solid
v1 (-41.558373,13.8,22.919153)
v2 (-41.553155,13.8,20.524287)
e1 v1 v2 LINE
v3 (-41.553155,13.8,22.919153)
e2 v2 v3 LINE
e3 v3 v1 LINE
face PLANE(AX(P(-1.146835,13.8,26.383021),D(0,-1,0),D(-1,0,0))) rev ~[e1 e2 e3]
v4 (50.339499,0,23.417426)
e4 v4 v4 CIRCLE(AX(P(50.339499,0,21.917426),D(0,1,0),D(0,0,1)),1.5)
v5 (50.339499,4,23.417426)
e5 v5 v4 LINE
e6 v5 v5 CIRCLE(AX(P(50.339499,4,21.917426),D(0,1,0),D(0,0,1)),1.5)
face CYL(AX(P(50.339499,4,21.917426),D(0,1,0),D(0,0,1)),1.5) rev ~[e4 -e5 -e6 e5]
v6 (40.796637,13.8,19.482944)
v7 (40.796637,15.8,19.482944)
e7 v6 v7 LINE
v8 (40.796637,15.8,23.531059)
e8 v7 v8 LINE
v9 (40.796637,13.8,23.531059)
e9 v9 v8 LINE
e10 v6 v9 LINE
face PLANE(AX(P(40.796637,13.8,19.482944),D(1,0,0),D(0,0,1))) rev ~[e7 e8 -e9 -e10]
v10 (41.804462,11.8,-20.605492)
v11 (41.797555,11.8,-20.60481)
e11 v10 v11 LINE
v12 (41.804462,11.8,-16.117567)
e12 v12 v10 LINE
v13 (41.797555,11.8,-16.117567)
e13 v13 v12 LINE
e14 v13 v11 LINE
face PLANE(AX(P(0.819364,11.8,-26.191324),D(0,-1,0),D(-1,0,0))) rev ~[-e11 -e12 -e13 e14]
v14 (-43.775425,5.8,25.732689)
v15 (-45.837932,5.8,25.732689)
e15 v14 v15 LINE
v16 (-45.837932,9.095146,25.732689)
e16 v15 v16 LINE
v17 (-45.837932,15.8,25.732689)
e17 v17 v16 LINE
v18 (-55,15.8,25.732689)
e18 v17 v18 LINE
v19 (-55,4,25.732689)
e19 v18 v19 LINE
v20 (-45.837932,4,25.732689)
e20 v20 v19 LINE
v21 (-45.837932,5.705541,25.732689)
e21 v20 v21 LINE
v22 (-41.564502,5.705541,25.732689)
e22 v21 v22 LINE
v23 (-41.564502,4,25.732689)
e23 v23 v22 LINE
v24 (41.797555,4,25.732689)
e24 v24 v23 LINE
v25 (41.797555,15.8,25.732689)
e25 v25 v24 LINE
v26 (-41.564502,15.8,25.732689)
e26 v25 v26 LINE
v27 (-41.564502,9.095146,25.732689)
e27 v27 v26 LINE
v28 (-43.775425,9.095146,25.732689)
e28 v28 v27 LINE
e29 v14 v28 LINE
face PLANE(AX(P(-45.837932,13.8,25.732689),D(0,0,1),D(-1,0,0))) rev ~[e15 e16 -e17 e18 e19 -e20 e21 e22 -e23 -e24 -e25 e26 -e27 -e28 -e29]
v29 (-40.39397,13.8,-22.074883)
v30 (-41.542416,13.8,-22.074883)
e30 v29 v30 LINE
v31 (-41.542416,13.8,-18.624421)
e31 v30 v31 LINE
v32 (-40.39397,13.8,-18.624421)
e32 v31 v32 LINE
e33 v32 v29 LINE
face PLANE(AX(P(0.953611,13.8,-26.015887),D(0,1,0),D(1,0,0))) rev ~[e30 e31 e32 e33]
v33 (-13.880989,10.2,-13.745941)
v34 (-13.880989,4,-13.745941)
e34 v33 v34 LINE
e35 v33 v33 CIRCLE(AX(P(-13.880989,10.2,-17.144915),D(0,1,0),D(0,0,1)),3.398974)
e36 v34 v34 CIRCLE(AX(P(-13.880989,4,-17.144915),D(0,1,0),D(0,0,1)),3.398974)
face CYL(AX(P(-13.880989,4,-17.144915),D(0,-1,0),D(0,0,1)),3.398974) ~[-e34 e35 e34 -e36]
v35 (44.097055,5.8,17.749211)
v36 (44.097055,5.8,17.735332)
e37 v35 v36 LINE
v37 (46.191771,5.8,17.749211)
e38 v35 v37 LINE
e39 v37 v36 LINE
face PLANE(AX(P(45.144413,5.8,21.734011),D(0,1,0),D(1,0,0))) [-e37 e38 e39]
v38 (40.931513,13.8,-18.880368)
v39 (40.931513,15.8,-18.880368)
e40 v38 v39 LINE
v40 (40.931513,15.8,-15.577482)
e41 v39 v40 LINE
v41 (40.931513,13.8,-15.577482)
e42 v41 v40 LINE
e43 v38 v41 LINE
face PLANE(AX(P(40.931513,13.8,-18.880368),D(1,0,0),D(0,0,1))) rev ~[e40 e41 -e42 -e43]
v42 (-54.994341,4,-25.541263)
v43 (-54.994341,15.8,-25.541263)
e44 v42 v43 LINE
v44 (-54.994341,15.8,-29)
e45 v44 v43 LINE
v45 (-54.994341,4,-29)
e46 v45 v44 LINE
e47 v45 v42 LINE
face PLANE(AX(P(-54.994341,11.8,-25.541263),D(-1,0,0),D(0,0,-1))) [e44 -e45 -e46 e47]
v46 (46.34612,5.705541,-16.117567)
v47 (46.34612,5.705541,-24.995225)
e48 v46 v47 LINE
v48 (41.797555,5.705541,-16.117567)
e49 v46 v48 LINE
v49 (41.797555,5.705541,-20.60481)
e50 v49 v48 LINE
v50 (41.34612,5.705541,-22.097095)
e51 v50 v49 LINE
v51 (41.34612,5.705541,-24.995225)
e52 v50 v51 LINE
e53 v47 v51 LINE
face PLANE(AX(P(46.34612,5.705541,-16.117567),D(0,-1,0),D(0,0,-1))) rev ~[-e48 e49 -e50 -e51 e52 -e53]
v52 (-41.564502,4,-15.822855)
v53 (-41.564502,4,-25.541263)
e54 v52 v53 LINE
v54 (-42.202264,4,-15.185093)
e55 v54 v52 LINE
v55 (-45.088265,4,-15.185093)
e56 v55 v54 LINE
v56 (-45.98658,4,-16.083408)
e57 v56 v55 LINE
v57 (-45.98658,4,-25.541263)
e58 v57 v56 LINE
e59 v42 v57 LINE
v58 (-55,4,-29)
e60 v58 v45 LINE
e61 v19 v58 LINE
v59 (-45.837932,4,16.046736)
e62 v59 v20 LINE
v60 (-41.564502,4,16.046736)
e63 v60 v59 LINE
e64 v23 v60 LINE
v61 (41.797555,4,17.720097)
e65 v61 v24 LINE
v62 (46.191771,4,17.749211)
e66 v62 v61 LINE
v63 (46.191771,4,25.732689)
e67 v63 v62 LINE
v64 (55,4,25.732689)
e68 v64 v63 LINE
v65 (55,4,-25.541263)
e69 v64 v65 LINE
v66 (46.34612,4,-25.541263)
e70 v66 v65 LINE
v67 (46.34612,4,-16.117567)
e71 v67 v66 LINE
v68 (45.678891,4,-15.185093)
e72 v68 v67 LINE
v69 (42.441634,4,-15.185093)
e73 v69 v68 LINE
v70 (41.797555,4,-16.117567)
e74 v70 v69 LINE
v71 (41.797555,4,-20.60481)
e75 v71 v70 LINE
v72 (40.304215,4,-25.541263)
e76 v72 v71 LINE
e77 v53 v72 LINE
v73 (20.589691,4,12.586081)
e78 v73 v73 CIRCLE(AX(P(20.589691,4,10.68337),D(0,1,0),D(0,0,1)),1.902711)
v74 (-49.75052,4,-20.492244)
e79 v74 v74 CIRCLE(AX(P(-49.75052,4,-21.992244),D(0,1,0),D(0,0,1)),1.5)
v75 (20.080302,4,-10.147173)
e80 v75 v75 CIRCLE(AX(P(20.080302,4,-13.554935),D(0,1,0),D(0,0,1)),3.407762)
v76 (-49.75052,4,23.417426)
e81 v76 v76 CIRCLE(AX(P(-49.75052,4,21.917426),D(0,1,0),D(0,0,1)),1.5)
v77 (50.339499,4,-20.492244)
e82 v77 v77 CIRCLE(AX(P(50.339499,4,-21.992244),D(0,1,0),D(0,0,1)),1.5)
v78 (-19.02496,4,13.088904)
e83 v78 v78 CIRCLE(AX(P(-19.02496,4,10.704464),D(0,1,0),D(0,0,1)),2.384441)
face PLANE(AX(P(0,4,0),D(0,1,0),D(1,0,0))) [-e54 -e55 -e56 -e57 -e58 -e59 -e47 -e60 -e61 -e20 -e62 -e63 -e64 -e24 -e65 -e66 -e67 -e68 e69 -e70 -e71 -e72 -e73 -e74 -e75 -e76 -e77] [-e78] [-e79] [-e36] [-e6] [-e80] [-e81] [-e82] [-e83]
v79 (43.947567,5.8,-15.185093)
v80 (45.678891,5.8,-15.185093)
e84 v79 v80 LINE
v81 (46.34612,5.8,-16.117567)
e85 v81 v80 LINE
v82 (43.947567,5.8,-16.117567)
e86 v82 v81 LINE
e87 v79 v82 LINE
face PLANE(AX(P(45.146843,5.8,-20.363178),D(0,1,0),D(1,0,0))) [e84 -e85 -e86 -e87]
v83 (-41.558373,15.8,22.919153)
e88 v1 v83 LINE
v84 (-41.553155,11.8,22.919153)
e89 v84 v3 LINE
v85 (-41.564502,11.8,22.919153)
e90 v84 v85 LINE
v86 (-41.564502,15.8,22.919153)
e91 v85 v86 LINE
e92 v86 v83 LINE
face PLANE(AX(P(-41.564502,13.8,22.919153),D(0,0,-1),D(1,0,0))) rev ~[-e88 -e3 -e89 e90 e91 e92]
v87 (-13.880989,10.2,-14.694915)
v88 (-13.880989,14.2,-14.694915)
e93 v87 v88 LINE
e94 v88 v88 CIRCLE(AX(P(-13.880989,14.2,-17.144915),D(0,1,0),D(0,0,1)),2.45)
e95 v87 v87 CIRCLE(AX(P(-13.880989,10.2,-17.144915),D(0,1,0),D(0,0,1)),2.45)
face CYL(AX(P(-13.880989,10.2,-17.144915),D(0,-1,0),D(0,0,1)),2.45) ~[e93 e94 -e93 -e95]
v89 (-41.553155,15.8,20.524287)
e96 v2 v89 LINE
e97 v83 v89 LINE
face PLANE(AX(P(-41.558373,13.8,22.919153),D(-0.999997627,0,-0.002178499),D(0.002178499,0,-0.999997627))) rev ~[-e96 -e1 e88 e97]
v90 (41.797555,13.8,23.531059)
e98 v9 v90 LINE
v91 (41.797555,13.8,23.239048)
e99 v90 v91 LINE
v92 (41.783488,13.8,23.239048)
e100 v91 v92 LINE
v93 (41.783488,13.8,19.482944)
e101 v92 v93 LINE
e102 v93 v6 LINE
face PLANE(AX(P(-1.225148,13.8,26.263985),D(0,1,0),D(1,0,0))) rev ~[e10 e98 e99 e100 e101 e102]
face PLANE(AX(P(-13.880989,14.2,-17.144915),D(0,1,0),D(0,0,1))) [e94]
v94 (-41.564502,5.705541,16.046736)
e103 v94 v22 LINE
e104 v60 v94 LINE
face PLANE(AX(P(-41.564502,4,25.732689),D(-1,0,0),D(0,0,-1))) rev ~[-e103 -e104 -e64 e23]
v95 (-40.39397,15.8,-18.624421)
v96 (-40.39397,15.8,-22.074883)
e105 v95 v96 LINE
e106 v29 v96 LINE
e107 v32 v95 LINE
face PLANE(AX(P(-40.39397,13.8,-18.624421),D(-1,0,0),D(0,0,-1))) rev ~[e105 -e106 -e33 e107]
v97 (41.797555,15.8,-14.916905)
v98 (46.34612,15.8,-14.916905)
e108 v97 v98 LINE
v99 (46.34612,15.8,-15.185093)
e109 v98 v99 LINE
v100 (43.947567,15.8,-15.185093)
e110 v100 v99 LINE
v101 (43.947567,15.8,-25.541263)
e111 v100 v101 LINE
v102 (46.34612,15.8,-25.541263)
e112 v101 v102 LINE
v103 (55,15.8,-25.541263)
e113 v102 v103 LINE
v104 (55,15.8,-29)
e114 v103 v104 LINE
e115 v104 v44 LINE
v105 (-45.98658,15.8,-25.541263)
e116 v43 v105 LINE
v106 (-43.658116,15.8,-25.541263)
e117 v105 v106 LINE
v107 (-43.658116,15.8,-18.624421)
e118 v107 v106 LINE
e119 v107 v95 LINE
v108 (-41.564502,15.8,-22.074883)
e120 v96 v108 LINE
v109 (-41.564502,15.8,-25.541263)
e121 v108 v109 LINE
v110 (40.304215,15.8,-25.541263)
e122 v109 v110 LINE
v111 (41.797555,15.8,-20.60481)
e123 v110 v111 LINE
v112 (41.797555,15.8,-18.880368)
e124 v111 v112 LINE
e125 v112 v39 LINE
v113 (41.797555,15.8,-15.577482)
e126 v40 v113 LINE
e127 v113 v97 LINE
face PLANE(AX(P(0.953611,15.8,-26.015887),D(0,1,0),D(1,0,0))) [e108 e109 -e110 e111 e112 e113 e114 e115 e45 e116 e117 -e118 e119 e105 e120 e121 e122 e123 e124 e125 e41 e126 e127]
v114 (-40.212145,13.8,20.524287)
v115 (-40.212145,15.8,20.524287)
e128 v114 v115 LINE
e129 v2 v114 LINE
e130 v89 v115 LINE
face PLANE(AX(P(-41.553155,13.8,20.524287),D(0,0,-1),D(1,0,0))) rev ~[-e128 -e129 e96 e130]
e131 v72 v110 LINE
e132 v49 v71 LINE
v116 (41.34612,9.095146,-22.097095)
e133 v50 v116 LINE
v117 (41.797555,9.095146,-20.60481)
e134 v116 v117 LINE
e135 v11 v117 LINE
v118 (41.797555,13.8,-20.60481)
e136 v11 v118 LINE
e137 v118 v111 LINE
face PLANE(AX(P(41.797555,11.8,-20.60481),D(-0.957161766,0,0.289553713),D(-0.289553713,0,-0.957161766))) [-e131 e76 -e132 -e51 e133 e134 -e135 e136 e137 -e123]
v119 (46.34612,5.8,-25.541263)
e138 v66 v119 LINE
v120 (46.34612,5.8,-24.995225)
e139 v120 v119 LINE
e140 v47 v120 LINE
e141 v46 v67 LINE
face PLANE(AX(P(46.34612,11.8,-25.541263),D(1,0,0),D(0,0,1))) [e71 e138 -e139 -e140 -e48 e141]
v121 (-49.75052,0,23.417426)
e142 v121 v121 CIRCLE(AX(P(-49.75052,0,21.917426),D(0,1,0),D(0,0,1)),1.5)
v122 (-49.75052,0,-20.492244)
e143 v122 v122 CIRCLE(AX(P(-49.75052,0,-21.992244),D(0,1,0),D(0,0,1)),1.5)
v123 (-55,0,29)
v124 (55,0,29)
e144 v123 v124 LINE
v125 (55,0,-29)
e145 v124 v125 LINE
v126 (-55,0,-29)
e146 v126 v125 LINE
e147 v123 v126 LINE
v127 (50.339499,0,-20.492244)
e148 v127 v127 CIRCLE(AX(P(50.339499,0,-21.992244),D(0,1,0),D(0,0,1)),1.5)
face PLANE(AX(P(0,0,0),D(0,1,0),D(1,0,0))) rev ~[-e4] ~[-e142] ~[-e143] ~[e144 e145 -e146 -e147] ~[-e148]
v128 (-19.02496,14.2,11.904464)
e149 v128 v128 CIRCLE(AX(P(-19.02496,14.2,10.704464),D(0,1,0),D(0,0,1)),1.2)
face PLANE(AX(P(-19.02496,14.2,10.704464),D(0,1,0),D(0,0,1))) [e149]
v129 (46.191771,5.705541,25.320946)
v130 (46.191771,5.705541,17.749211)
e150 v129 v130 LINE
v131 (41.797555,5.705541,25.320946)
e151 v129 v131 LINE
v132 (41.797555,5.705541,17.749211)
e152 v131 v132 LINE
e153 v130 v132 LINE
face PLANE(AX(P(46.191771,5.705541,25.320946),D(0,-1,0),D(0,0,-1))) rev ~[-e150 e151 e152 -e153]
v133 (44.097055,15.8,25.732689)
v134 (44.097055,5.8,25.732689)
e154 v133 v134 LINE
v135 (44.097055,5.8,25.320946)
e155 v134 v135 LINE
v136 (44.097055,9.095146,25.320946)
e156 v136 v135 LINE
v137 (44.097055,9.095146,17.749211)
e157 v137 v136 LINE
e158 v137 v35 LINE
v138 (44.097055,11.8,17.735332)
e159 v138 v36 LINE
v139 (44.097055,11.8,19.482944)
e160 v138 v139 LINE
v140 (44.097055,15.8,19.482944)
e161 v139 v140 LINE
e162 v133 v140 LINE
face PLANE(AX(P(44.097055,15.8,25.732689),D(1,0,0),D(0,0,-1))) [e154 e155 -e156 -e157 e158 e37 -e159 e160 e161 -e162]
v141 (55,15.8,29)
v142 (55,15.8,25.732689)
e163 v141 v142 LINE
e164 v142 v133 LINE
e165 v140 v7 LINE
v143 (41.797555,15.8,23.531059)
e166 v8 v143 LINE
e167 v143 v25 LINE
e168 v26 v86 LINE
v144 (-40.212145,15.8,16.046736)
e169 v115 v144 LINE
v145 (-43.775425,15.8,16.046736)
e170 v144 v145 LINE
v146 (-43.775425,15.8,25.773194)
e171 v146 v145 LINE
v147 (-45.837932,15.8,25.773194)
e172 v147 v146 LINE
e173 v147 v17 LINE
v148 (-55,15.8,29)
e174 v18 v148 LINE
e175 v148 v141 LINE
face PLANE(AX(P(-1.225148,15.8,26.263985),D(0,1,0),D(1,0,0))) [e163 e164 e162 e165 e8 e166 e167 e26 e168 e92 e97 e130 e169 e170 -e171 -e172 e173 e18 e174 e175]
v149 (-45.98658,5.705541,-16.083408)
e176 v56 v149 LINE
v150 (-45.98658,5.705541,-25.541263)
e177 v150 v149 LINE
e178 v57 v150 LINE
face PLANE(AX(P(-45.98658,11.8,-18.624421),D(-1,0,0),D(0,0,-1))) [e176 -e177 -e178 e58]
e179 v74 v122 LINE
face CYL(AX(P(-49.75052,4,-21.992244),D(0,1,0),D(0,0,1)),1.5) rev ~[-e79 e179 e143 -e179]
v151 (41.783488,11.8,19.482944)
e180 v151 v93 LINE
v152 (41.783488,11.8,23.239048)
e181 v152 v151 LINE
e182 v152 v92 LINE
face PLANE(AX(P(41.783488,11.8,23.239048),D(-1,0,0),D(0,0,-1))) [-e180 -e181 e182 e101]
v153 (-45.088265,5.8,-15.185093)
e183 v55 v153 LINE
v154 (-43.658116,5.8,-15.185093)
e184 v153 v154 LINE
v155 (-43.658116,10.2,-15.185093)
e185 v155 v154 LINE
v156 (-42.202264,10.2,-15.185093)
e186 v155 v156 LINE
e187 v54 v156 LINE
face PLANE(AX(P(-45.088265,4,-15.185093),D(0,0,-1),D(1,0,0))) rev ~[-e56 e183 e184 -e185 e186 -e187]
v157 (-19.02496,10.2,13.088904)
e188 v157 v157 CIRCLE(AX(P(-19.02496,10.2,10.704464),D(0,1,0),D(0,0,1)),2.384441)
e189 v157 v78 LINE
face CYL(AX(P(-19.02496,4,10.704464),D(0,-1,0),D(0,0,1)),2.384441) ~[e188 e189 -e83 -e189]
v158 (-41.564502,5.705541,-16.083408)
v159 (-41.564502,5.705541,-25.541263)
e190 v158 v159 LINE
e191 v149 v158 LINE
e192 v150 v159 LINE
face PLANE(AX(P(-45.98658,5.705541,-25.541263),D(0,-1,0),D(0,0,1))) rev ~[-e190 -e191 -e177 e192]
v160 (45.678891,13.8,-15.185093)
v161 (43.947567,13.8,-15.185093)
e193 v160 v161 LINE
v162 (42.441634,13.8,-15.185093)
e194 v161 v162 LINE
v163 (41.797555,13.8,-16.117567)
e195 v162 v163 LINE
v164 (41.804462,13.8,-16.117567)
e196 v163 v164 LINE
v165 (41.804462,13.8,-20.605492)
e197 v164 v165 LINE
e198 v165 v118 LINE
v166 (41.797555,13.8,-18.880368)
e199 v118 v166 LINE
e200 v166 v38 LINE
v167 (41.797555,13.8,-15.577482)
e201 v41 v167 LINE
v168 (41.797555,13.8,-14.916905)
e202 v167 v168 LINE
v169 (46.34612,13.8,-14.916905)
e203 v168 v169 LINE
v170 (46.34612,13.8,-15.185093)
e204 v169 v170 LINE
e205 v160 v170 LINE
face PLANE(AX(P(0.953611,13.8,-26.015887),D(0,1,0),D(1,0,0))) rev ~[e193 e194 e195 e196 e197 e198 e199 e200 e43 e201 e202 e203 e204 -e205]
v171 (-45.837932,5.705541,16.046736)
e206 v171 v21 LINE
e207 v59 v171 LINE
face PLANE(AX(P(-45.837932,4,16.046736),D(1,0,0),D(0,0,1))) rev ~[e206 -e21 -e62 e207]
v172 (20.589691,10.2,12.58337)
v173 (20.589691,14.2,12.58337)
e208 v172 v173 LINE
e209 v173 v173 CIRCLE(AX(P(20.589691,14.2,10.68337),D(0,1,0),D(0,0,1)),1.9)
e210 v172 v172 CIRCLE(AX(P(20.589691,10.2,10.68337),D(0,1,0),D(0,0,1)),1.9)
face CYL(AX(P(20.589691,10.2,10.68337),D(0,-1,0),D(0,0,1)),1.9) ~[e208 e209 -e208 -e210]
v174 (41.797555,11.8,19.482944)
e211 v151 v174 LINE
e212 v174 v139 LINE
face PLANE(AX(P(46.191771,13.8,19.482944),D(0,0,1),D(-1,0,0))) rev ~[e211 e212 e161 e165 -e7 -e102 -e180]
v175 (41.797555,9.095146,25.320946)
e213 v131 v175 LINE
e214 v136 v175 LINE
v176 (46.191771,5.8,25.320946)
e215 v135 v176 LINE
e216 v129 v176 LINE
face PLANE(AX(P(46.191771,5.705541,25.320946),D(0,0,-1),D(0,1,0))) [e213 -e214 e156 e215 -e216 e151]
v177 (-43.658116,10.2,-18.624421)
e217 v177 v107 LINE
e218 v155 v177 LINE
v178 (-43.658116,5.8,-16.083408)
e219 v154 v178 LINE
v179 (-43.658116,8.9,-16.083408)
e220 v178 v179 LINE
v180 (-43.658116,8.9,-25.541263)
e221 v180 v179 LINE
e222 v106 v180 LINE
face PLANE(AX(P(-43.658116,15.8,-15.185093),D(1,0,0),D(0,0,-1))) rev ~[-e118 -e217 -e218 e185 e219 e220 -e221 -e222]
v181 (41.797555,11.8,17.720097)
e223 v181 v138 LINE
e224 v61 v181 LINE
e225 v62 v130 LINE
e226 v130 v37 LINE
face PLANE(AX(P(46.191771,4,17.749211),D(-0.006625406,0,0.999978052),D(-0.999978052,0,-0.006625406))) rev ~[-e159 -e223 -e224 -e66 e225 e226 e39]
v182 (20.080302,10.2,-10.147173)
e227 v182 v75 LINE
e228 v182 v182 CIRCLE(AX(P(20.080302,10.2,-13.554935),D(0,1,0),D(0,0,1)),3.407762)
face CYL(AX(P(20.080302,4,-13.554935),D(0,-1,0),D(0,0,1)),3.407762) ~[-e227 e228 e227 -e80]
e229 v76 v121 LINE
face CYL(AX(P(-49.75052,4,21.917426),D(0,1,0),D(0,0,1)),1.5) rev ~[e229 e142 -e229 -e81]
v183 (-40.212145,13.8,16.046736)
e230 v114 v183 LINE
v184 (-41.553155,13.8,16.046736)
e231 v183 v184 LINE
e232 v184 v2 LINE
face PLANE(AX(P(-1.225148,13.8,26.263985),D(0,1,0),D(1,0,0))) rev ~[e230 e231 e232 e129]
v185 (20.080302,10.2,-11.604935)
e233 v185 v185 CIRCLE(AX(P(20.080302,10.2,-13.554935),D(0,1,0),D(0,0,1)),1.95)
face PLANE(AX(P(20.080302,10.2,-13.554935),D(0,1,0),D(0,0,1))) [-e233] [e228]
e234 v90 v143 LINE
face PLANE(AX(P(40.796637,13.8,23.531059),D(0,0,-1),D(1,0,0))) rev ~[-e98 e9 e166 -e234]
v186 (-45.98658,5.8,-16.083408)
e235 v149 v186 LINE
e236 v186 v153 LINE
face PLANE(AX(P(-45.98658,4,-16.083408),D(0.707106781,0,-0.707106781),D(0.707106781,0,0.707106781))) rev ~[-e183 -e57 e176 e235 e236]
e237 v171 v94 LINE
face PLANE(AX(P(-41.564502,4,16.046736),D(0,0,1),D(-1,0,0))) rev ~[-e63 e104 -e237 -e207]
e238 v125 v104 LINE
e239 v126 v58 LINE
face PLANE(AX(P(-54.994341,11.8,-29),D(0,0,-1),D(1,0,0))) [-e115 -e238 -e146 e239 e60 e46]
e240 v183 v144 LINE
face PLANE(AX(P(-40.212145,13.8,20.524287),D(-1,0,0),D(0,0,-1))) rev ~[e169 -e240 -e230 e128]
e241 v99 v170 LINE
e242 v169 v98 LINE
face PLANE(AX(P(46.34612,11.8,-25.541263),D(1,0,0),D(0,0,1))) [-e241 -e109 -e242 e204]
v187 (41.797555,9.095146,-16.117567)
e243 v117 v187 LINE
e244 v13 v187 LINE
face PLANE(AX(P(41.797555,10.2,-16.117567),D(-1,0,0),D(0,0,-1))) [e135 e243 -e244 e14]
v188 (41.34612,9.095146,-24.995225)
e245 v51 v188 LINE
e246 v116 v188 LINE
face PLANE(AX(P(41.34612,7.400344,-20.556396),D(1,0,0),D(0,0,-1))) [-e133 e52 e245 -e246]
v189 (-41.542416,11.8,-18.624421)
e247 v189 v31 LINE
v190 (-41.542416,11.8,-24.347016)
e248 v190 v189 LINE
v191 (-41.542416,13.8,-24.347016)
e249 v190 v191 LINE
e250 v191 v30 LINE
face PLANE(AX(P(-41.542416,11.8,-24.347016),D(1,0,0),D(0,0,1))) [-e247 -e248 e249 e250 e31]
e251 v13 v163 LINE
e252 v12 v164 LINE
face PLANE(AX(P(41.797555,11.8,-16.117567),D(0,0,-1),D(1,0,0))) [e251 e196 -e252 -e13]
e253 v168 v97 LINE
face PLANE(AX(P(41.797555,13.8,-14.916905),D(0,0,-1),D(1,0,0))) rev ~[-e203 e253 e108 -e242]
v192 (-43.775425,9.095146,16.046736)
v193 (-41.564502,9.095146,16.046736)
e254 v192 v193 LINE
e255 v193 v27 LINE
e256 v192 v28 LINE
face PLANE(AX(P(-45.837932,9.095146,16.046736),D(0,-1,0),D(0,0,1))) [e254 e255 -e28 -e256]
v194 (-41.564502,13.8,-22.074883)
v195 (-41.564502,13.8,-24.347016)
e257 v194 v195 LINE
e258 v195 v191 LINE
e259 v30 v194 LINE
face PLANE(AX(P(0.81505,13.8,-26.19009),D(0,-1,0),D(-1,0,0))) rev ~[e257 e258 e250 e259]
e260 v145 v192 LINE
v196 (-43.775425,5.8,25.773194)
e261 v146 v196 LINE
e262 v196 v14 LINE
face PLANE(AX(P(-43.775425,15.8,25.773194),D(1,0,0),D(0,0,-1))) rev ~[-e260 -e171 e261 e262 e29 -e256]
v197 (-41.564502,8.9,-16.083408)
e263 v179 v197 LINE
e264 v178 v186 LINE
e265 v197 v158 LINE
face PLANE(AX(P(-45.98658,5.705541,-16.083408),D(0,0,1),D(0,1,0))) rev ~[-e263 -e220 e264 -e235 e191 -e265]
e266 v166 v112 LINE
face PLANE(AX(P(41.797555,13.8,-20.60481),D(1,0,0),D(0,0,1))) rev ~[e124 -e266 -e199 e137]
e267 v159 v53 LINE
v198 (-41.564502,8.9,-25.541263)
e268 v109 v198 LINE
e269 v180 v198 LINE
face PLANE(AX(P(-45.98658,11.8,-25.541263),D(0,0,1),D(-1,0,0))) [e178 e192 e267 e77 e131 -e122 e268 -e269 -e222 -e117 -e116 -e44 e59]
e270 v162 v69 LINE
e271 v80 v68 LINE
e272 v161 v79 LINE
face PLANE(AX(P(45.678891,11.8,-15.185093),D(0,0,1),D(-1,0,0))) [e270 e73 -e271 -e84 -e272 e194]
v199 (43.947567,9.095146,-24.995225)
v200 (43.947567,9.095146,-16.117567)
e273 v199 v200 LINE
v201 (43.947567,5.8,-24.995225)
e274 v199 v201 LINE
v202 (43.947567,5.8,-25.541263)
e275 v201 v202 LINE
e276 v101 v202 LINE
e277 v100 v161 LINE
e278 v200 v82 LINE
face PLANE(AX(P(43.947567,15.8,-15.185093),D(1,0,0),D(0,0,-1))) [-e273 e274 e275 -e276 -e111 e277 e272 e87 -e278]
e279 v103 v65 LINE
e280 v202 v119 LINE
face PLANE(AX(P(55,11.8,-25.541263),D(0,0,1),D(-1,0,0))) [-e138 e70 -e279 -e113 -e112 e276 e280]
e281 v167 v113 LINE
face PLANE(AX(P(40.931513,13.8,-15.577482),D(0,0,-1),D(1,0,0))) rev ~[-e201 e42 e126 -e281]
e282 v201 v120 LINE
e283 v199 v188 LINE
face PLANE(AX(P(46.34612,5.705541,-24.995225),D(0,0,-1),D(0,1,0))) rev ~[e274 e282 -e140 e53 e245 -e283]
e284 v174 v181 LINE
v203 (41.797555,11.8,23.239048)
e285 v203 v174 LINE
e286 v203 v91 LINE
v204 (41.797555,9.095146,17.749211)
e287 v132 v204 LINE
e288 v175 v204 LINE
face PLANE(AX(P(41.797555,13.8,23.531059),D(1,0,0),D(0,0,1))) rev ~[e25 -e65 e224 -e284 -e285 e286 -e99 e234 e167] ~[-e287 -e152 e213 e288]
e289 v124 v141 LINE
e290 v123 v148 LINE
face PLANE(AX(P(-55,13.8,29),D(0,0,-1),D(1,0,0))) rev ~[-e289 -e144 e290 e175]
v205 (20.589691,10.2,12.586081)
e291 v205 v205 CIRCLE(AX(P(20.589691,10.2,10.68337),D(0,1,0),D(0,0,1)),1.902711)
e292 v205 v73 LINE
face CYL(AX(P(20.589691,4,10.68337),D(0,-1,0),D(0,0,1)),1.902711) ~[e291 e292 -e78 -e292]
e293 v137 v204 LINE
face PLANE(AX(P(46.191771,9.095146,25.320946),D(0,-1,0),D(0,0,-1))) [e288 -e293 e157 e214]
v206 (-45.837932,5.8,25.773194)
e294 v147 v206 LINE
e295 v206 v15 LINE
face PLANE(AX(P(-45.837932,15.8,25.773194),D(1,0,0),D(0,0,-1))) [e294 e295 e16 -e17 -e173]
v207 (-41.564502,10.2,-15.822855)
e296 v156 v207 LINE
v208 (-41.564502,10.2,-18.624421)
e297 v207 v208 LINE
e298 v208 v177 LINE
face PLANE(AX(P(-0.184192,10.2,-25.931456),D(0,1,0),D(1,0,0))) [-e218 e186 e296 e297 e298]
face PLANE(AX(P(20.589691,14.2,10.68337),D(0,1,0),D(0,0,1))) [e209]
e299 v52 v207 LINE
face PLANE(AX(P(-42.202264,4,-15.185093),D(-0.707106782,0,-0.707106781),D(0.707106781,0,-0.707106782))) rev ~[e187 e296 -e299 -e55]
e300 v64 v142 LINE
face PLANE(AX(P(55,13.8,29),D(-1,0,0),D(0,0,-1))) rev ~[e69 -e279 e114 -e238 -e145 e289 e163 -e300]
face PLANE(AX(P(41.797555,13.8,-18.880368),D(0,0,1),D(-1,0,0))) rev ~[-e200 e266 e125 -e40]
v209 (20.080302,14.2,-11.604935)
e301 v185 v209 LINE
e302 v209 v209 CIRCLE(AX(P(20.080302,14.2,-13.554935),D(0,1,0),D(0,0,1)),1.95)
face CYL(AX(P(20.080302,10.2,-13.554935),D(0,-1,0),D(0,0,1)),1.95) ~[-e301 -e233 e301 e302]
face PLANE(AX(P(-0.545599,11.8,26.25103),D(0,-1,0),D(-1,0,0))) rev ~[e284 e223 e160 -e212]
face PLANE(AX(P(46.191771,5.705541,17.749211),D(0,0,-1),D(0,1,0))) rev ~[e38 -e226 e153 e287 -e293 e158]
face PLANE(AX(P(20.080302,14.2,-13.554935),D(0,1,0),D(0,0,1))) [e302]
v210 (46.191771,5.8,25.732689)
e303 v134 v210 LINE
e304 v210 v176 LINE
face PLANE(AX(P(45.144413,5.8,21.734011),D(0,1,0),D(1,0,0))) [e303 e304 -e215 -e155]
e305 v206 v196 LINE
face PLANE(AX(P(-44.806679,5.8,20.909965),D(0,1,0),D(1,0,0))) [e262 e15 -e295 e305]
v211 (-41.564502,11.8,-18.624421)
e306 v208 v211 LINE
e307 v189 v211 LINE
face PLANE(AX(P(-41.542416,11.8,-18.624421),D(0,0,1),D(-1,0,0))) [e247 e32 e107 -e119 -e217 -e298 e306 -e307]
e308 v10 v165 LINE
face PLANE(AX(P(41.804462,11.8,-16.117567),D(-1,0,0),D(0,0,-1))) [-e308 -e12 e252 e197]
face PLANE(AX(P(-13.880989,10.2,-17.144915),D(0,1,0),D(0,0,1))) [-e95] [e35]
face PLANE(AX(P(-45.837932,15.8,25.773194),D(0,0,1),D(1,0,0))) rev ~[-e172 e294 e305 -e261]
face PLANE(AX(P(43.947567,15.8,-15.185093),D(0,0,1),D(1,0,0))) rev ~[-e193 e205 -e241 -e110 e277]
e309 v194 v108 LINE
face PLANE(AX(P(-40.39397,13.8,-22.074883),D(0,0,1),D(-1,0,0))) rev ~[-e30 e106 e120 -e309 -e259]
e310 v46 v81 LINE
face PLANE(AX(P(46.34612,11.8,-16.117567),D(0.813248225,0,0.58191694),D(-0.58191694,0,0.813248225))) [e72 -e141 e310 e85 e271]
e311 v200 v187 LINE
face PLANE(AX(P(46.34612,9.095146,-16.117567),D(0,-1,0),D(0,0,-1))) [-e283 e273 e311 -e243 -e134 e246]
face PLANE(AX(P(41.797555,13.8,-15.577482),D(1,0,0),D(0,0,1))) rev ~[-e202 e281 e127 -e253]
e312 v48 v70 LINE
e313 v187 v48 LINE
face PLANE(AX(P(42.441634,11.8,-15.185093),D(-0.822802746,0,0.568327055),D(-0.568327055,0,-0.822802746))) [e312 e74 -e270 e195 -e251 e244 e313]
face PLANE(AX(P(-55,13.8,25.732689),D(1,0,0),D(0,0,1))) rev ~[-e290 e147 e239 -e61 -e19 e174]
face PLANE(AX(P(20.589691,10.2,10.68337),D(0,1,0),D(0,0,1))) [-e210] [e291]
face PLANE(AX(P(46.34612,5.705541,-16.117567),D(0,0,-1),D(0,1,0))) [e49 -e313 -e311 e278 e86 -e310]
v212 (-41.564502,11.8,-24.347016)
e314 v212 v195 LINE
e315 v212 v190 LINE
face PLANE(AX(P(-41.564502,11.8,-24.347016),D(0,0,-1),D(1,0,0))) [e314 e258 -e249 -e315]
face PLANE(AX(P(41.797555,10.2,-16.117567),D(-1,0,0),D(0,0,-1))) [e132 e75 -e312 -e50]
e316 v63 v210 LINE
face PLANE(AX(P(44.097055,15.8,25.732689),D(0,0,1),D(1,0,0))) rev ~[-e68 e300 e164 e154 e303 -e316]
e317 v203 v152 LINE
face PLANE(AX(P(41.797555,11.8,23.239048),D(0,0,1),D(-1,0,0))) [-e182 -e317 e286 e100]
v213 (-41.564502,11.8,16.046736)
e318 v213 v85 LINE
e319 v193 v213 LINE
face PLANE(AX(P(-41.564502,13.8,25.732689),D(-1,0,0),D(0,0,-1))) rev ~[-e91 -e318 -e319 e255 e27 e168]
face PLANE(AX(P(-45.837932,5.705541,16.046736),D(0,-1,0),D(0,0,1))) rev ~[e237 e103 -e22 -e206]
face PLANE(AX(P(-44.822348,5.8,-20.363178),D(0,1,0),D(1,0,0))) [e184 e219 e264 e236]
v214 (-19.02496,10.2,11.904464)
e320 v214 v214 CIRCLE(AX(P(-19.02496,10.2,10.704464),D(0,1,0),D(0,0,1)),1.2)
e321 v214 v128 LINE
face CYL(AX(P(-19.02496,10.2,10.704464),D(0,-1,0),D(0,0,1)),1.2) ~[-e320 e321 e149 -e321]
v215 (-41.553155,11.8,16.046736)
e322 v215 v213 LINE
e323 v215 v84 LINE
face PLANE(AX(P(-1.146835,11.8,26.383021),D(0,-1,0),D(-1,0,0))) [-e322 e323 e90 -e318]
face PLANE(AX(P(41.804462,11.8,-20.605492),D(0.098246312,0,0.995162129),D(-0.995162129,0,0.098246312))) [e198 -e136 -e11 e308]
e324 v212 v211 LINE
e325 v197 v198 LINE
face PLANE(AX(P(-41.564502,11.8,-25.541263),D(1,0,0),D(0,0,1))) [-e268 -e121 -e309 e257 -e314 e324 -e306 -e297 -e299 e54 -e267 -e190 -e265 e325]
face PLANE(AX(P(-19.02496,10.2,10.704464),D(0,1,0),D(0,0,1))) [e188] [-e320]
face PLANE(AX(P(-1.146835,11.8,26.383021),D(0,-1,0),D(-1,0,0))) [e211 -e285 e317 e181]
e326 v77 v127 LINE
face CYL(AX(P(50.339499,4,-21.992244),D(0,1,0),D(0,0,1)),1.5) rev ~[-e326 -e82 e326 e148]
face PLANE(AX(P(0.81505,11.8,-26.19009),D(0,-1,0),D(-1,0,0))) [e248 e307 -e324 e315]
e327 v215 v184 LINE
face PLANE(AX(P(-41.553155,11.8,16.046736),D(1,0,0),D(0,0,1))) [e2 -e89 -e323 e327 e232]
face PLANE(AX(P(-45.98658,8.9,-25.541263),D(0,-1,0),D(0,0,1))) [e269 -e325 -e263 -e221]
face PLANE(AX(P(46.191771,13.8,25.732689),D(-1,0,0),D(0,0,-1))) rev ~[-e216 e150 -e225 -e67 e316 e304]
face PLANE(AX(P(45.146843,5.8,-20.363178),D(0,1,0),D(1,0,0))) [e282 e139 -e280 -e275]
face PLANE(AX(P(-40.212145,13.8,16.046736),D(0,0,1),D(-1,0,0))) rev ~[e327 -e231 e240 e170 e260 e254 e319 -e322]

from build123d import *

# Parameters (mm, degrees)
SKETCH1_W            = 110
SKETCH1_H            = 58
BOSS_EXTRUDE1_DEPTH  = 4
SKETCH2_R            = 3.398974158
SKETCH2_R_2          = 3.407761536
SKETCH2_R_3          = 1.902710934
SKETCH2_R_4          = 2.384440654
BOSS_EXTRUDE2_DEPTH  = 1.6
BOSS_EXTRUDE3_DEPTH  = 6.2
SKETCH4_R            = 2.45
SKETCH4_R_2          = 1.95
SKETCH4_R_3          = 1.9
SKETCH4_R_4          = 1.2
BOSS_EXTRUDE4_DEPTH  = 4
BOSS_EXTRUDE5_DEPTH  = 1.6
BOSS_EXTRUDE7_DEPTH  = 2
SKETCH10_W           = 9.685953709
SKETCH10_H           = 3.389605022
CUT_EXTRUDE1_DEPTH   = 5
SKETCH11_W           = 9.457855186
SKETCH11_H           = 3.19445865
CUT_EXTRUDE2_DEPTH   = 5
SKETCH12_W           = 7.571734997
SKETCH12_H           = 3.389605022
CUT_EXTRUDE3_DEPTH   = 5
SKETCH13_W           = 8.877658174
SKETCH13_H           = 3.389605022
CUT_EXTRUDE4_DEPTH   = 5
BOSS_EXTRUDE11_DEPTH = 2
SKETCH15_W           = 2.328463334
SKETCH15_H           = 10.356170305
SKETCH15_W_2         = 2.062506364
SKETCH15_H_2         = 9.72645826
SKETCH15_W_3         = 2.09471635
SKETCH15_H_3         = 7.99735701
SKETCH15_W_4         = 2.398553281
CUT_EXTRUDE5_DEPTH   = 10
SKETCH16_R           = 1.5
CUT_EXTRUDE9_DEPTH   = 5


with BuildPart() as part:
    # Sketch1 → Boss-Extrude1 (new body)
    with BuildSketch(Plane(origin=(0, 0, 0), x_dir=(1, 0, 0), z_dir=(0, 1, 0))):
        Rectangle(SKETCH1_W, SKETCH1_H)
    extrude(amount=BOSS_EXTRUDE1_DEPTH)

    # Sketch2 → Boss-Extrude2 (add)
    with BuildSketch(Plane(origin=(0, 4, 0), x_dir=(1, 0, 0), z_dir=(0, 1, 0))):
        Polygon((46.346119795, 25.541263413), (55, 25.541263413), (55, 29), (-54.994341331, 29), (-54.994341331, 25.541263413), (-45.986579734, 25.541263413), (-45.986579734, 18.10232226), (-45.986579734, 17.980527053), (-45.986579734, 16.083408227), (-45.088264615, 15.185093108), (-42.202263878, 15.185093108), (-41.564501972, 15.822855015), (-41.564501972, 18.10232226), (-41.564501972, 25.541263413), (40.304214547, 25.541263413), (41.797555033, 20.604809993), (41.797555033, 16.117567037), (42.441634266, 15.185093108), (45.678891317, 15.185093108), (46.346119795, 16.117567037), align=None)
        with Locations(Location((-13.880988948, 17.14491543, 0), (0, 0, 270))):
            Circle(SKETCH2_R)
        with Locations(Location((20.080301926, 13.55493457, 0), (0, 0, 270))):
            Circle(SKETCH2_R_2)
        with Locations(Location((20.58969132, -10.683370151, 0), (0, 0, 270))):
            Circle(SKETCH2_R_3)
        with Locations(Location((-19.024959871, -10.704463559, 0), (0, 0, 270))):
            Circle(SKETCH2_R_4)
        Polygon((-55, -25.732689432), (-55, -29), (55, -29), (55, -25.732689432), (46.191771323, -25.732689432), (46.191771323, -17.749211072), (41.797555033, -17.720096968), (41.797555033, -25.732689432), (-41.564501972, -25.732689432), (-41.564501972, -19.505766322), (-41.564501972, -16.046735723), (-45.837931694, -16.046735723), (-45.837931694, -19.079806126), (-45.837931694, -25.732689432), (-46.135227773, -25.732689432), align=None)
    extrude(amount=BOSS_EXTRUDE2_DEPTH)

    # Sketch2 → Boss-Extrude3 (add)
    with BuildSketch(Plane(origin=(0, 4, 0), x_dir=(1, 0, 0), z_dir=(0, 1, 0))):
        Polygon((46.346119795, 25.541263413), (55, 25.541263413), (55, 29), (-54.994341331, 29), (-54.994341331, 25.541263413), (-45.986579734, 25.541263413), (-45.986579734, 18.10232226), (-45.986579734, 17.980527053), (-45.986579734, 16.083408227), (-45.088264615, 15.185093108), (-42.202263878, 15.185093108), (-41.564501972, 15.822855015), (-41.564501972, 18.10232226), (-41.564501972, 25.541263413), (40.304214547, 25.541263413), (41.797555033, 20.604809993), (41.797555033, 16.117567037), (42.441634266, 15.185093108), (45.678891317, 15.185093108), (46.346119795, 16.117567037), align=None)
        with Locations(Location((-13.880988948, 17.14491543, 0), (0, 0, 270))):
            Circle(SKETCH2_R)
        with Locations(Location((20.080301926, 13.55493457, 0), (0, 0, 270))):
            Circle(SKETCH2_R_2)
        with Locations(Location((20.58969132, -10.683370151, 0), (0, 0, 270))):
            Circle(SKETCH2_R_3)
        with Locations(Location((-19.024959871, -10.704463559, 0), (0, 0, 270))):
            Circle(SKETCH2_R_4)
        Polygon((-55, -25.732689432), (-55, -29), (55, -29), (55, -25.732689432), (46.191771323, -25.732689432), (46.191771323, -17.749211072), (41.797555033, -17.720096968), (41.797555033, -25.732689432), (-41.564501972, -25.732689432), (-41.564501972, -19.505766322), (-41.564501972, -16.046735723), (-45.837931694, -16.046735723), (-45.837931694, -19.079806126), (-45.837931694, -25.732689432), (-46.135227773, -25.732689432), align=None)
    extrude(amount=BOSS_EXTRUDE3_DEPTH)

    # Sketch4 → Boss-Extrude4 (add)
    with BuildSketch(Plane(origin=(0, 10.2, 0), x_dir=(1, 0, 0), z_dir=(0, 1, 0))):
        with Locations(Location((-13.880988948, 17.14491543, 0), (0, 0, 270))):
            Circle(SKETCH4_R)
        with Locations(Location((20.080301926, 13.55493457, 0), (0, 0, 270))):
            Circle(SKETCH4_R_2)
        with Locations(Location((20.58969132, -10.683370151, 0), (0, 0, 270))):
            Circle(SKETCH4_R_3)
        with Locations(Location((-19.024959871, -10.704463559, 0), (0, 0, 270))):
            Circle(SKETCH4_R_4)
    extrude(amount=BOSS_EXTRUDE4_DEPTH)

    # Sketch5 → Boss-Extrude5 (add)
    with BuildSketch(Plane(origin=(0, 10.2, 0), x_dir=(1, 0, 0), z_dir=(0, 1, 0))):
        Polygon((-54.994341331, 25.541263413), (-54.994341331, 29), (55, 29), (55, 25.541263413), (46.346119795, 25.541263413), (46.346119795, 16.117567037), (45.678891317, 15.185093108), (42.441634266, 15.185093108), (41.797555033, 16.117567037), (41.797555033, 20.604809993), (40.304214547, 25.541263413), (-41.564501972, 25.541263413), (-41.564501972, 18.624421299), (-45.986579734, 18.624421299), (-45.986579734, 25.541263413), align=None)
        Polygon((-55, -29), (-55, -25.732689432), (-45.837931694, -25.732689432), (-45.837931694, -16.046735723), (-41.564501972, -16.046735723), (-41.564501972, -25.732689432), (41.797555033, -25.732689432), (41.797555033, -17.720096968), (46.191771323, -17.749211072), (46.191771323, -25.732689432), (55, -25.732689432), (55, -29), align=None)
    extrude(amount=BOSS_EXTRUDE5_DEPTH)

    # Sketch8 → Boss-Extrude7 (add)
    with BuildSketch(Plane(origin=(0, 11.8, 0), x_dir=(1, 0, 0), z_dir=(0, 1, 0))):
        Polygon((-45.986579734, 25.541263413), (-54.994341331, 25.541263413), (-54.994341331, 29), (55, 29), (55, 25.541263413), (46.346119795, 25.541263413), (46.346119795, 16.117567037), (45.678891317, 15.185093108), (42.441634266, 15.185093108), (41.797555033, 16.117567037), (41.80446192, 16.117567037), (41.80446192, 20.605491868), (41.797555033, 20.604809993), (40.304214547, 25.541263413), (-41.564501972, 25.541263413), (-41.564501972, 24.347016348), (-41.542415728, 24.347016348), (-41.542415728, 18.624421299), (-45.986579734, 18.624421299), align=None)
        Polygon((-55, -29), (-55, -25.732689432), (-45.837931694, -25.732689432), (-45.837931694, -16.046735723), (-41.564501972, -16.046735723), (-41.553155446, -16.046735723), (-41.553155446, -22.919153082), (-41.564501972, -22.919153082), (-41.564501972, -25.732689432), (41.797555033, -25.732689432), (41.797555033, -23.239047925), (41.783488135, -23.239047925), (41.783488135, -19.482944402), (46.191771323, -19.482944402), (46.191771323, -25.732689432), (55, -25.732689432), (55, -29), align=None)
    extrude(amount=BOSS_EXTRUDE7_DEPTH)

    # Sketch10 → Cut-Extrude1 (cut)
    with BuildSketch(Plane.ZY.offset(45.837931694)):
        with Locations((20.889712577, 7.400343861)):
            Rectangle(SKETCH10_W, SKETCH10_H)
    extrude(amount=-CUT_EXTRUDE1_DEPTH, mode=Mode.SUBTRACT)

    # Sketch11 → Cut-Extrude2 (cut)
    with BuildSketch(Plane.ZY.offset(45.986579734)):
        with Locations((-20.81233582, 7.302770675)):
            Rectangle(SKETCH11_W, SKETCH11_H)
    extrude(amount=-CUT_EXTRUDE2_DEPTH, mode=Mode.SUBTRACT)

    # Sketch12 → Cut-Extrude3 (cut)
    with BuildSketch(Plane(origin=(46.191771323, 0, 0), x_dir=(0, 0, -1), z_dir=(1, 0, 0))):
        with Locations((-21.535078571, 7.400343861)):
            Rectangle(SKETCH12_W, SKETCH12_H)
    extrude(amount=-CUT_EXTRUDE3_DEPTH, mode=Mode.SUBTRACT)

    # Sketch13 → Cut-Extrude4 (cut)
    with BuildSketch(Plane(origin=(46.346119795, 0, 0), x_dir=(0, 0, -1), z_dir=(1, 0, 0))):
        with Locations((20.556396124, 7.400343861)):
            Rectangle(SKETCH13_W, SKETCH13_H)
    extrude(amount=-CUT_EXTRUDE4_DEPTH, mode=Mode.SUBTRACT)

    # Sketch14 → Boss-Extrude11 (add)
    with BuildSketch(Plane(origin=(0, 13.8, 0), x_dir=(1, 0, 0), z_dir=(0, 1, 0))):
        Polygon((-55, -25.732689432), (-55, -29), (55, -29), (55, -25.732689432), (46.191771323, -25.732689432), (46.191771323, -19.482944402), (40.796637058, -19.482944402), (40.796637058, -23.53105864), (41.797555033, -23.53105864), (41.797555033, -25.732689432), (-41.564501972, -25.732689432), (-41.564501972, -22.919153082), (-41.558372671, -22.919153082), (-41.553155446, -20.524286948), (-40.212145481, -20.524286948), (-40.212145481, -16.046735723), (-45.837931694, -16.046735723), (-45.837931694, -25.732689432), align=None)
        Polygon((55, 29), (-54.994341331, 29), (-54.994341331, 25.541263413), (-45.986579734, 25.541263413), (-45.986579734, 18.624421299), (-40.393969825, 18.624421299), (-40.393969825, 22.074882647), (-41.564501972, 22.074882647), (-41.564501972, 25.541263413), (40.304214547, 25.541263413), (41.797555033, 20.604809993), (41.797555033, 18.88036778), (40.93151342, 18.88036778), (40.93151342, 15.577482073), (41.797555033, 15.577482073), (41.797555033, 14.916904931), (46.346119795, 14.916904931), (46.346119795, 25.541263413), (55, 25.541263413), align=None)
    extrude(amount=BOSS_EXTRUDE11_DEPTH)

    # Sketch15 → Cut-Extrude5 (cut)
    with BuildSketch(Plane(origin=(0, 15.8, 0), x_dir=(1, 0, 0), z_dir=(0, 1, 0))):
        with Locations((-44.822348067, 20.36317826)):
            Rectangle(SKETCH15_W, SKETCH15_H)
        with Locations((-44.806678512, -20.909964853)):
            Rectangle(SKETCH15_W_2, SKETCH15_H_2)
        with Locations((45.144413148, -21.734010927)):
            Rectangle(SKETCH15_W_3, SKETCH15_H_3)
        with Locations((45.146843155, 20.36317826)):
            Rectangle(SKETCH15_W_4, SKETCH15_H)
    extrude(amount=-CUT_EXTRUDE5_DEPTH, mode=Mode.SUBTRACT)

    # Sketch16 → Cut-Extrude9 (cut)
    with BuildSketch(Plane(origin=(0, 4, 0), x_dir=(1, 0, 0), z_dir=(0, 1, 0))):
        with Locations(Location((-49.750520398, -21.917426264, 0), (0, 0, 270))):
            Circle(SKETCH16_R)
        with Locations(Location((-49.750520398, 21.99224412, 0), (0, 0, 270))):
            Circle(SKETCH16_R)
        with Locations(Location((50.339499411, -21.917426264, 0), (0, 0, 270))):
            Circle(SKETCH16_R)
        with Locations(Location((50.339499411, 21.99224412, 0), (0, 0, 270))):
            Circle(SKETCH16_R)
    extrude(amount=-CUT_EXTRUDE9_DEPTH, mode=Mode.SUBTRACT)


solid = part.part
